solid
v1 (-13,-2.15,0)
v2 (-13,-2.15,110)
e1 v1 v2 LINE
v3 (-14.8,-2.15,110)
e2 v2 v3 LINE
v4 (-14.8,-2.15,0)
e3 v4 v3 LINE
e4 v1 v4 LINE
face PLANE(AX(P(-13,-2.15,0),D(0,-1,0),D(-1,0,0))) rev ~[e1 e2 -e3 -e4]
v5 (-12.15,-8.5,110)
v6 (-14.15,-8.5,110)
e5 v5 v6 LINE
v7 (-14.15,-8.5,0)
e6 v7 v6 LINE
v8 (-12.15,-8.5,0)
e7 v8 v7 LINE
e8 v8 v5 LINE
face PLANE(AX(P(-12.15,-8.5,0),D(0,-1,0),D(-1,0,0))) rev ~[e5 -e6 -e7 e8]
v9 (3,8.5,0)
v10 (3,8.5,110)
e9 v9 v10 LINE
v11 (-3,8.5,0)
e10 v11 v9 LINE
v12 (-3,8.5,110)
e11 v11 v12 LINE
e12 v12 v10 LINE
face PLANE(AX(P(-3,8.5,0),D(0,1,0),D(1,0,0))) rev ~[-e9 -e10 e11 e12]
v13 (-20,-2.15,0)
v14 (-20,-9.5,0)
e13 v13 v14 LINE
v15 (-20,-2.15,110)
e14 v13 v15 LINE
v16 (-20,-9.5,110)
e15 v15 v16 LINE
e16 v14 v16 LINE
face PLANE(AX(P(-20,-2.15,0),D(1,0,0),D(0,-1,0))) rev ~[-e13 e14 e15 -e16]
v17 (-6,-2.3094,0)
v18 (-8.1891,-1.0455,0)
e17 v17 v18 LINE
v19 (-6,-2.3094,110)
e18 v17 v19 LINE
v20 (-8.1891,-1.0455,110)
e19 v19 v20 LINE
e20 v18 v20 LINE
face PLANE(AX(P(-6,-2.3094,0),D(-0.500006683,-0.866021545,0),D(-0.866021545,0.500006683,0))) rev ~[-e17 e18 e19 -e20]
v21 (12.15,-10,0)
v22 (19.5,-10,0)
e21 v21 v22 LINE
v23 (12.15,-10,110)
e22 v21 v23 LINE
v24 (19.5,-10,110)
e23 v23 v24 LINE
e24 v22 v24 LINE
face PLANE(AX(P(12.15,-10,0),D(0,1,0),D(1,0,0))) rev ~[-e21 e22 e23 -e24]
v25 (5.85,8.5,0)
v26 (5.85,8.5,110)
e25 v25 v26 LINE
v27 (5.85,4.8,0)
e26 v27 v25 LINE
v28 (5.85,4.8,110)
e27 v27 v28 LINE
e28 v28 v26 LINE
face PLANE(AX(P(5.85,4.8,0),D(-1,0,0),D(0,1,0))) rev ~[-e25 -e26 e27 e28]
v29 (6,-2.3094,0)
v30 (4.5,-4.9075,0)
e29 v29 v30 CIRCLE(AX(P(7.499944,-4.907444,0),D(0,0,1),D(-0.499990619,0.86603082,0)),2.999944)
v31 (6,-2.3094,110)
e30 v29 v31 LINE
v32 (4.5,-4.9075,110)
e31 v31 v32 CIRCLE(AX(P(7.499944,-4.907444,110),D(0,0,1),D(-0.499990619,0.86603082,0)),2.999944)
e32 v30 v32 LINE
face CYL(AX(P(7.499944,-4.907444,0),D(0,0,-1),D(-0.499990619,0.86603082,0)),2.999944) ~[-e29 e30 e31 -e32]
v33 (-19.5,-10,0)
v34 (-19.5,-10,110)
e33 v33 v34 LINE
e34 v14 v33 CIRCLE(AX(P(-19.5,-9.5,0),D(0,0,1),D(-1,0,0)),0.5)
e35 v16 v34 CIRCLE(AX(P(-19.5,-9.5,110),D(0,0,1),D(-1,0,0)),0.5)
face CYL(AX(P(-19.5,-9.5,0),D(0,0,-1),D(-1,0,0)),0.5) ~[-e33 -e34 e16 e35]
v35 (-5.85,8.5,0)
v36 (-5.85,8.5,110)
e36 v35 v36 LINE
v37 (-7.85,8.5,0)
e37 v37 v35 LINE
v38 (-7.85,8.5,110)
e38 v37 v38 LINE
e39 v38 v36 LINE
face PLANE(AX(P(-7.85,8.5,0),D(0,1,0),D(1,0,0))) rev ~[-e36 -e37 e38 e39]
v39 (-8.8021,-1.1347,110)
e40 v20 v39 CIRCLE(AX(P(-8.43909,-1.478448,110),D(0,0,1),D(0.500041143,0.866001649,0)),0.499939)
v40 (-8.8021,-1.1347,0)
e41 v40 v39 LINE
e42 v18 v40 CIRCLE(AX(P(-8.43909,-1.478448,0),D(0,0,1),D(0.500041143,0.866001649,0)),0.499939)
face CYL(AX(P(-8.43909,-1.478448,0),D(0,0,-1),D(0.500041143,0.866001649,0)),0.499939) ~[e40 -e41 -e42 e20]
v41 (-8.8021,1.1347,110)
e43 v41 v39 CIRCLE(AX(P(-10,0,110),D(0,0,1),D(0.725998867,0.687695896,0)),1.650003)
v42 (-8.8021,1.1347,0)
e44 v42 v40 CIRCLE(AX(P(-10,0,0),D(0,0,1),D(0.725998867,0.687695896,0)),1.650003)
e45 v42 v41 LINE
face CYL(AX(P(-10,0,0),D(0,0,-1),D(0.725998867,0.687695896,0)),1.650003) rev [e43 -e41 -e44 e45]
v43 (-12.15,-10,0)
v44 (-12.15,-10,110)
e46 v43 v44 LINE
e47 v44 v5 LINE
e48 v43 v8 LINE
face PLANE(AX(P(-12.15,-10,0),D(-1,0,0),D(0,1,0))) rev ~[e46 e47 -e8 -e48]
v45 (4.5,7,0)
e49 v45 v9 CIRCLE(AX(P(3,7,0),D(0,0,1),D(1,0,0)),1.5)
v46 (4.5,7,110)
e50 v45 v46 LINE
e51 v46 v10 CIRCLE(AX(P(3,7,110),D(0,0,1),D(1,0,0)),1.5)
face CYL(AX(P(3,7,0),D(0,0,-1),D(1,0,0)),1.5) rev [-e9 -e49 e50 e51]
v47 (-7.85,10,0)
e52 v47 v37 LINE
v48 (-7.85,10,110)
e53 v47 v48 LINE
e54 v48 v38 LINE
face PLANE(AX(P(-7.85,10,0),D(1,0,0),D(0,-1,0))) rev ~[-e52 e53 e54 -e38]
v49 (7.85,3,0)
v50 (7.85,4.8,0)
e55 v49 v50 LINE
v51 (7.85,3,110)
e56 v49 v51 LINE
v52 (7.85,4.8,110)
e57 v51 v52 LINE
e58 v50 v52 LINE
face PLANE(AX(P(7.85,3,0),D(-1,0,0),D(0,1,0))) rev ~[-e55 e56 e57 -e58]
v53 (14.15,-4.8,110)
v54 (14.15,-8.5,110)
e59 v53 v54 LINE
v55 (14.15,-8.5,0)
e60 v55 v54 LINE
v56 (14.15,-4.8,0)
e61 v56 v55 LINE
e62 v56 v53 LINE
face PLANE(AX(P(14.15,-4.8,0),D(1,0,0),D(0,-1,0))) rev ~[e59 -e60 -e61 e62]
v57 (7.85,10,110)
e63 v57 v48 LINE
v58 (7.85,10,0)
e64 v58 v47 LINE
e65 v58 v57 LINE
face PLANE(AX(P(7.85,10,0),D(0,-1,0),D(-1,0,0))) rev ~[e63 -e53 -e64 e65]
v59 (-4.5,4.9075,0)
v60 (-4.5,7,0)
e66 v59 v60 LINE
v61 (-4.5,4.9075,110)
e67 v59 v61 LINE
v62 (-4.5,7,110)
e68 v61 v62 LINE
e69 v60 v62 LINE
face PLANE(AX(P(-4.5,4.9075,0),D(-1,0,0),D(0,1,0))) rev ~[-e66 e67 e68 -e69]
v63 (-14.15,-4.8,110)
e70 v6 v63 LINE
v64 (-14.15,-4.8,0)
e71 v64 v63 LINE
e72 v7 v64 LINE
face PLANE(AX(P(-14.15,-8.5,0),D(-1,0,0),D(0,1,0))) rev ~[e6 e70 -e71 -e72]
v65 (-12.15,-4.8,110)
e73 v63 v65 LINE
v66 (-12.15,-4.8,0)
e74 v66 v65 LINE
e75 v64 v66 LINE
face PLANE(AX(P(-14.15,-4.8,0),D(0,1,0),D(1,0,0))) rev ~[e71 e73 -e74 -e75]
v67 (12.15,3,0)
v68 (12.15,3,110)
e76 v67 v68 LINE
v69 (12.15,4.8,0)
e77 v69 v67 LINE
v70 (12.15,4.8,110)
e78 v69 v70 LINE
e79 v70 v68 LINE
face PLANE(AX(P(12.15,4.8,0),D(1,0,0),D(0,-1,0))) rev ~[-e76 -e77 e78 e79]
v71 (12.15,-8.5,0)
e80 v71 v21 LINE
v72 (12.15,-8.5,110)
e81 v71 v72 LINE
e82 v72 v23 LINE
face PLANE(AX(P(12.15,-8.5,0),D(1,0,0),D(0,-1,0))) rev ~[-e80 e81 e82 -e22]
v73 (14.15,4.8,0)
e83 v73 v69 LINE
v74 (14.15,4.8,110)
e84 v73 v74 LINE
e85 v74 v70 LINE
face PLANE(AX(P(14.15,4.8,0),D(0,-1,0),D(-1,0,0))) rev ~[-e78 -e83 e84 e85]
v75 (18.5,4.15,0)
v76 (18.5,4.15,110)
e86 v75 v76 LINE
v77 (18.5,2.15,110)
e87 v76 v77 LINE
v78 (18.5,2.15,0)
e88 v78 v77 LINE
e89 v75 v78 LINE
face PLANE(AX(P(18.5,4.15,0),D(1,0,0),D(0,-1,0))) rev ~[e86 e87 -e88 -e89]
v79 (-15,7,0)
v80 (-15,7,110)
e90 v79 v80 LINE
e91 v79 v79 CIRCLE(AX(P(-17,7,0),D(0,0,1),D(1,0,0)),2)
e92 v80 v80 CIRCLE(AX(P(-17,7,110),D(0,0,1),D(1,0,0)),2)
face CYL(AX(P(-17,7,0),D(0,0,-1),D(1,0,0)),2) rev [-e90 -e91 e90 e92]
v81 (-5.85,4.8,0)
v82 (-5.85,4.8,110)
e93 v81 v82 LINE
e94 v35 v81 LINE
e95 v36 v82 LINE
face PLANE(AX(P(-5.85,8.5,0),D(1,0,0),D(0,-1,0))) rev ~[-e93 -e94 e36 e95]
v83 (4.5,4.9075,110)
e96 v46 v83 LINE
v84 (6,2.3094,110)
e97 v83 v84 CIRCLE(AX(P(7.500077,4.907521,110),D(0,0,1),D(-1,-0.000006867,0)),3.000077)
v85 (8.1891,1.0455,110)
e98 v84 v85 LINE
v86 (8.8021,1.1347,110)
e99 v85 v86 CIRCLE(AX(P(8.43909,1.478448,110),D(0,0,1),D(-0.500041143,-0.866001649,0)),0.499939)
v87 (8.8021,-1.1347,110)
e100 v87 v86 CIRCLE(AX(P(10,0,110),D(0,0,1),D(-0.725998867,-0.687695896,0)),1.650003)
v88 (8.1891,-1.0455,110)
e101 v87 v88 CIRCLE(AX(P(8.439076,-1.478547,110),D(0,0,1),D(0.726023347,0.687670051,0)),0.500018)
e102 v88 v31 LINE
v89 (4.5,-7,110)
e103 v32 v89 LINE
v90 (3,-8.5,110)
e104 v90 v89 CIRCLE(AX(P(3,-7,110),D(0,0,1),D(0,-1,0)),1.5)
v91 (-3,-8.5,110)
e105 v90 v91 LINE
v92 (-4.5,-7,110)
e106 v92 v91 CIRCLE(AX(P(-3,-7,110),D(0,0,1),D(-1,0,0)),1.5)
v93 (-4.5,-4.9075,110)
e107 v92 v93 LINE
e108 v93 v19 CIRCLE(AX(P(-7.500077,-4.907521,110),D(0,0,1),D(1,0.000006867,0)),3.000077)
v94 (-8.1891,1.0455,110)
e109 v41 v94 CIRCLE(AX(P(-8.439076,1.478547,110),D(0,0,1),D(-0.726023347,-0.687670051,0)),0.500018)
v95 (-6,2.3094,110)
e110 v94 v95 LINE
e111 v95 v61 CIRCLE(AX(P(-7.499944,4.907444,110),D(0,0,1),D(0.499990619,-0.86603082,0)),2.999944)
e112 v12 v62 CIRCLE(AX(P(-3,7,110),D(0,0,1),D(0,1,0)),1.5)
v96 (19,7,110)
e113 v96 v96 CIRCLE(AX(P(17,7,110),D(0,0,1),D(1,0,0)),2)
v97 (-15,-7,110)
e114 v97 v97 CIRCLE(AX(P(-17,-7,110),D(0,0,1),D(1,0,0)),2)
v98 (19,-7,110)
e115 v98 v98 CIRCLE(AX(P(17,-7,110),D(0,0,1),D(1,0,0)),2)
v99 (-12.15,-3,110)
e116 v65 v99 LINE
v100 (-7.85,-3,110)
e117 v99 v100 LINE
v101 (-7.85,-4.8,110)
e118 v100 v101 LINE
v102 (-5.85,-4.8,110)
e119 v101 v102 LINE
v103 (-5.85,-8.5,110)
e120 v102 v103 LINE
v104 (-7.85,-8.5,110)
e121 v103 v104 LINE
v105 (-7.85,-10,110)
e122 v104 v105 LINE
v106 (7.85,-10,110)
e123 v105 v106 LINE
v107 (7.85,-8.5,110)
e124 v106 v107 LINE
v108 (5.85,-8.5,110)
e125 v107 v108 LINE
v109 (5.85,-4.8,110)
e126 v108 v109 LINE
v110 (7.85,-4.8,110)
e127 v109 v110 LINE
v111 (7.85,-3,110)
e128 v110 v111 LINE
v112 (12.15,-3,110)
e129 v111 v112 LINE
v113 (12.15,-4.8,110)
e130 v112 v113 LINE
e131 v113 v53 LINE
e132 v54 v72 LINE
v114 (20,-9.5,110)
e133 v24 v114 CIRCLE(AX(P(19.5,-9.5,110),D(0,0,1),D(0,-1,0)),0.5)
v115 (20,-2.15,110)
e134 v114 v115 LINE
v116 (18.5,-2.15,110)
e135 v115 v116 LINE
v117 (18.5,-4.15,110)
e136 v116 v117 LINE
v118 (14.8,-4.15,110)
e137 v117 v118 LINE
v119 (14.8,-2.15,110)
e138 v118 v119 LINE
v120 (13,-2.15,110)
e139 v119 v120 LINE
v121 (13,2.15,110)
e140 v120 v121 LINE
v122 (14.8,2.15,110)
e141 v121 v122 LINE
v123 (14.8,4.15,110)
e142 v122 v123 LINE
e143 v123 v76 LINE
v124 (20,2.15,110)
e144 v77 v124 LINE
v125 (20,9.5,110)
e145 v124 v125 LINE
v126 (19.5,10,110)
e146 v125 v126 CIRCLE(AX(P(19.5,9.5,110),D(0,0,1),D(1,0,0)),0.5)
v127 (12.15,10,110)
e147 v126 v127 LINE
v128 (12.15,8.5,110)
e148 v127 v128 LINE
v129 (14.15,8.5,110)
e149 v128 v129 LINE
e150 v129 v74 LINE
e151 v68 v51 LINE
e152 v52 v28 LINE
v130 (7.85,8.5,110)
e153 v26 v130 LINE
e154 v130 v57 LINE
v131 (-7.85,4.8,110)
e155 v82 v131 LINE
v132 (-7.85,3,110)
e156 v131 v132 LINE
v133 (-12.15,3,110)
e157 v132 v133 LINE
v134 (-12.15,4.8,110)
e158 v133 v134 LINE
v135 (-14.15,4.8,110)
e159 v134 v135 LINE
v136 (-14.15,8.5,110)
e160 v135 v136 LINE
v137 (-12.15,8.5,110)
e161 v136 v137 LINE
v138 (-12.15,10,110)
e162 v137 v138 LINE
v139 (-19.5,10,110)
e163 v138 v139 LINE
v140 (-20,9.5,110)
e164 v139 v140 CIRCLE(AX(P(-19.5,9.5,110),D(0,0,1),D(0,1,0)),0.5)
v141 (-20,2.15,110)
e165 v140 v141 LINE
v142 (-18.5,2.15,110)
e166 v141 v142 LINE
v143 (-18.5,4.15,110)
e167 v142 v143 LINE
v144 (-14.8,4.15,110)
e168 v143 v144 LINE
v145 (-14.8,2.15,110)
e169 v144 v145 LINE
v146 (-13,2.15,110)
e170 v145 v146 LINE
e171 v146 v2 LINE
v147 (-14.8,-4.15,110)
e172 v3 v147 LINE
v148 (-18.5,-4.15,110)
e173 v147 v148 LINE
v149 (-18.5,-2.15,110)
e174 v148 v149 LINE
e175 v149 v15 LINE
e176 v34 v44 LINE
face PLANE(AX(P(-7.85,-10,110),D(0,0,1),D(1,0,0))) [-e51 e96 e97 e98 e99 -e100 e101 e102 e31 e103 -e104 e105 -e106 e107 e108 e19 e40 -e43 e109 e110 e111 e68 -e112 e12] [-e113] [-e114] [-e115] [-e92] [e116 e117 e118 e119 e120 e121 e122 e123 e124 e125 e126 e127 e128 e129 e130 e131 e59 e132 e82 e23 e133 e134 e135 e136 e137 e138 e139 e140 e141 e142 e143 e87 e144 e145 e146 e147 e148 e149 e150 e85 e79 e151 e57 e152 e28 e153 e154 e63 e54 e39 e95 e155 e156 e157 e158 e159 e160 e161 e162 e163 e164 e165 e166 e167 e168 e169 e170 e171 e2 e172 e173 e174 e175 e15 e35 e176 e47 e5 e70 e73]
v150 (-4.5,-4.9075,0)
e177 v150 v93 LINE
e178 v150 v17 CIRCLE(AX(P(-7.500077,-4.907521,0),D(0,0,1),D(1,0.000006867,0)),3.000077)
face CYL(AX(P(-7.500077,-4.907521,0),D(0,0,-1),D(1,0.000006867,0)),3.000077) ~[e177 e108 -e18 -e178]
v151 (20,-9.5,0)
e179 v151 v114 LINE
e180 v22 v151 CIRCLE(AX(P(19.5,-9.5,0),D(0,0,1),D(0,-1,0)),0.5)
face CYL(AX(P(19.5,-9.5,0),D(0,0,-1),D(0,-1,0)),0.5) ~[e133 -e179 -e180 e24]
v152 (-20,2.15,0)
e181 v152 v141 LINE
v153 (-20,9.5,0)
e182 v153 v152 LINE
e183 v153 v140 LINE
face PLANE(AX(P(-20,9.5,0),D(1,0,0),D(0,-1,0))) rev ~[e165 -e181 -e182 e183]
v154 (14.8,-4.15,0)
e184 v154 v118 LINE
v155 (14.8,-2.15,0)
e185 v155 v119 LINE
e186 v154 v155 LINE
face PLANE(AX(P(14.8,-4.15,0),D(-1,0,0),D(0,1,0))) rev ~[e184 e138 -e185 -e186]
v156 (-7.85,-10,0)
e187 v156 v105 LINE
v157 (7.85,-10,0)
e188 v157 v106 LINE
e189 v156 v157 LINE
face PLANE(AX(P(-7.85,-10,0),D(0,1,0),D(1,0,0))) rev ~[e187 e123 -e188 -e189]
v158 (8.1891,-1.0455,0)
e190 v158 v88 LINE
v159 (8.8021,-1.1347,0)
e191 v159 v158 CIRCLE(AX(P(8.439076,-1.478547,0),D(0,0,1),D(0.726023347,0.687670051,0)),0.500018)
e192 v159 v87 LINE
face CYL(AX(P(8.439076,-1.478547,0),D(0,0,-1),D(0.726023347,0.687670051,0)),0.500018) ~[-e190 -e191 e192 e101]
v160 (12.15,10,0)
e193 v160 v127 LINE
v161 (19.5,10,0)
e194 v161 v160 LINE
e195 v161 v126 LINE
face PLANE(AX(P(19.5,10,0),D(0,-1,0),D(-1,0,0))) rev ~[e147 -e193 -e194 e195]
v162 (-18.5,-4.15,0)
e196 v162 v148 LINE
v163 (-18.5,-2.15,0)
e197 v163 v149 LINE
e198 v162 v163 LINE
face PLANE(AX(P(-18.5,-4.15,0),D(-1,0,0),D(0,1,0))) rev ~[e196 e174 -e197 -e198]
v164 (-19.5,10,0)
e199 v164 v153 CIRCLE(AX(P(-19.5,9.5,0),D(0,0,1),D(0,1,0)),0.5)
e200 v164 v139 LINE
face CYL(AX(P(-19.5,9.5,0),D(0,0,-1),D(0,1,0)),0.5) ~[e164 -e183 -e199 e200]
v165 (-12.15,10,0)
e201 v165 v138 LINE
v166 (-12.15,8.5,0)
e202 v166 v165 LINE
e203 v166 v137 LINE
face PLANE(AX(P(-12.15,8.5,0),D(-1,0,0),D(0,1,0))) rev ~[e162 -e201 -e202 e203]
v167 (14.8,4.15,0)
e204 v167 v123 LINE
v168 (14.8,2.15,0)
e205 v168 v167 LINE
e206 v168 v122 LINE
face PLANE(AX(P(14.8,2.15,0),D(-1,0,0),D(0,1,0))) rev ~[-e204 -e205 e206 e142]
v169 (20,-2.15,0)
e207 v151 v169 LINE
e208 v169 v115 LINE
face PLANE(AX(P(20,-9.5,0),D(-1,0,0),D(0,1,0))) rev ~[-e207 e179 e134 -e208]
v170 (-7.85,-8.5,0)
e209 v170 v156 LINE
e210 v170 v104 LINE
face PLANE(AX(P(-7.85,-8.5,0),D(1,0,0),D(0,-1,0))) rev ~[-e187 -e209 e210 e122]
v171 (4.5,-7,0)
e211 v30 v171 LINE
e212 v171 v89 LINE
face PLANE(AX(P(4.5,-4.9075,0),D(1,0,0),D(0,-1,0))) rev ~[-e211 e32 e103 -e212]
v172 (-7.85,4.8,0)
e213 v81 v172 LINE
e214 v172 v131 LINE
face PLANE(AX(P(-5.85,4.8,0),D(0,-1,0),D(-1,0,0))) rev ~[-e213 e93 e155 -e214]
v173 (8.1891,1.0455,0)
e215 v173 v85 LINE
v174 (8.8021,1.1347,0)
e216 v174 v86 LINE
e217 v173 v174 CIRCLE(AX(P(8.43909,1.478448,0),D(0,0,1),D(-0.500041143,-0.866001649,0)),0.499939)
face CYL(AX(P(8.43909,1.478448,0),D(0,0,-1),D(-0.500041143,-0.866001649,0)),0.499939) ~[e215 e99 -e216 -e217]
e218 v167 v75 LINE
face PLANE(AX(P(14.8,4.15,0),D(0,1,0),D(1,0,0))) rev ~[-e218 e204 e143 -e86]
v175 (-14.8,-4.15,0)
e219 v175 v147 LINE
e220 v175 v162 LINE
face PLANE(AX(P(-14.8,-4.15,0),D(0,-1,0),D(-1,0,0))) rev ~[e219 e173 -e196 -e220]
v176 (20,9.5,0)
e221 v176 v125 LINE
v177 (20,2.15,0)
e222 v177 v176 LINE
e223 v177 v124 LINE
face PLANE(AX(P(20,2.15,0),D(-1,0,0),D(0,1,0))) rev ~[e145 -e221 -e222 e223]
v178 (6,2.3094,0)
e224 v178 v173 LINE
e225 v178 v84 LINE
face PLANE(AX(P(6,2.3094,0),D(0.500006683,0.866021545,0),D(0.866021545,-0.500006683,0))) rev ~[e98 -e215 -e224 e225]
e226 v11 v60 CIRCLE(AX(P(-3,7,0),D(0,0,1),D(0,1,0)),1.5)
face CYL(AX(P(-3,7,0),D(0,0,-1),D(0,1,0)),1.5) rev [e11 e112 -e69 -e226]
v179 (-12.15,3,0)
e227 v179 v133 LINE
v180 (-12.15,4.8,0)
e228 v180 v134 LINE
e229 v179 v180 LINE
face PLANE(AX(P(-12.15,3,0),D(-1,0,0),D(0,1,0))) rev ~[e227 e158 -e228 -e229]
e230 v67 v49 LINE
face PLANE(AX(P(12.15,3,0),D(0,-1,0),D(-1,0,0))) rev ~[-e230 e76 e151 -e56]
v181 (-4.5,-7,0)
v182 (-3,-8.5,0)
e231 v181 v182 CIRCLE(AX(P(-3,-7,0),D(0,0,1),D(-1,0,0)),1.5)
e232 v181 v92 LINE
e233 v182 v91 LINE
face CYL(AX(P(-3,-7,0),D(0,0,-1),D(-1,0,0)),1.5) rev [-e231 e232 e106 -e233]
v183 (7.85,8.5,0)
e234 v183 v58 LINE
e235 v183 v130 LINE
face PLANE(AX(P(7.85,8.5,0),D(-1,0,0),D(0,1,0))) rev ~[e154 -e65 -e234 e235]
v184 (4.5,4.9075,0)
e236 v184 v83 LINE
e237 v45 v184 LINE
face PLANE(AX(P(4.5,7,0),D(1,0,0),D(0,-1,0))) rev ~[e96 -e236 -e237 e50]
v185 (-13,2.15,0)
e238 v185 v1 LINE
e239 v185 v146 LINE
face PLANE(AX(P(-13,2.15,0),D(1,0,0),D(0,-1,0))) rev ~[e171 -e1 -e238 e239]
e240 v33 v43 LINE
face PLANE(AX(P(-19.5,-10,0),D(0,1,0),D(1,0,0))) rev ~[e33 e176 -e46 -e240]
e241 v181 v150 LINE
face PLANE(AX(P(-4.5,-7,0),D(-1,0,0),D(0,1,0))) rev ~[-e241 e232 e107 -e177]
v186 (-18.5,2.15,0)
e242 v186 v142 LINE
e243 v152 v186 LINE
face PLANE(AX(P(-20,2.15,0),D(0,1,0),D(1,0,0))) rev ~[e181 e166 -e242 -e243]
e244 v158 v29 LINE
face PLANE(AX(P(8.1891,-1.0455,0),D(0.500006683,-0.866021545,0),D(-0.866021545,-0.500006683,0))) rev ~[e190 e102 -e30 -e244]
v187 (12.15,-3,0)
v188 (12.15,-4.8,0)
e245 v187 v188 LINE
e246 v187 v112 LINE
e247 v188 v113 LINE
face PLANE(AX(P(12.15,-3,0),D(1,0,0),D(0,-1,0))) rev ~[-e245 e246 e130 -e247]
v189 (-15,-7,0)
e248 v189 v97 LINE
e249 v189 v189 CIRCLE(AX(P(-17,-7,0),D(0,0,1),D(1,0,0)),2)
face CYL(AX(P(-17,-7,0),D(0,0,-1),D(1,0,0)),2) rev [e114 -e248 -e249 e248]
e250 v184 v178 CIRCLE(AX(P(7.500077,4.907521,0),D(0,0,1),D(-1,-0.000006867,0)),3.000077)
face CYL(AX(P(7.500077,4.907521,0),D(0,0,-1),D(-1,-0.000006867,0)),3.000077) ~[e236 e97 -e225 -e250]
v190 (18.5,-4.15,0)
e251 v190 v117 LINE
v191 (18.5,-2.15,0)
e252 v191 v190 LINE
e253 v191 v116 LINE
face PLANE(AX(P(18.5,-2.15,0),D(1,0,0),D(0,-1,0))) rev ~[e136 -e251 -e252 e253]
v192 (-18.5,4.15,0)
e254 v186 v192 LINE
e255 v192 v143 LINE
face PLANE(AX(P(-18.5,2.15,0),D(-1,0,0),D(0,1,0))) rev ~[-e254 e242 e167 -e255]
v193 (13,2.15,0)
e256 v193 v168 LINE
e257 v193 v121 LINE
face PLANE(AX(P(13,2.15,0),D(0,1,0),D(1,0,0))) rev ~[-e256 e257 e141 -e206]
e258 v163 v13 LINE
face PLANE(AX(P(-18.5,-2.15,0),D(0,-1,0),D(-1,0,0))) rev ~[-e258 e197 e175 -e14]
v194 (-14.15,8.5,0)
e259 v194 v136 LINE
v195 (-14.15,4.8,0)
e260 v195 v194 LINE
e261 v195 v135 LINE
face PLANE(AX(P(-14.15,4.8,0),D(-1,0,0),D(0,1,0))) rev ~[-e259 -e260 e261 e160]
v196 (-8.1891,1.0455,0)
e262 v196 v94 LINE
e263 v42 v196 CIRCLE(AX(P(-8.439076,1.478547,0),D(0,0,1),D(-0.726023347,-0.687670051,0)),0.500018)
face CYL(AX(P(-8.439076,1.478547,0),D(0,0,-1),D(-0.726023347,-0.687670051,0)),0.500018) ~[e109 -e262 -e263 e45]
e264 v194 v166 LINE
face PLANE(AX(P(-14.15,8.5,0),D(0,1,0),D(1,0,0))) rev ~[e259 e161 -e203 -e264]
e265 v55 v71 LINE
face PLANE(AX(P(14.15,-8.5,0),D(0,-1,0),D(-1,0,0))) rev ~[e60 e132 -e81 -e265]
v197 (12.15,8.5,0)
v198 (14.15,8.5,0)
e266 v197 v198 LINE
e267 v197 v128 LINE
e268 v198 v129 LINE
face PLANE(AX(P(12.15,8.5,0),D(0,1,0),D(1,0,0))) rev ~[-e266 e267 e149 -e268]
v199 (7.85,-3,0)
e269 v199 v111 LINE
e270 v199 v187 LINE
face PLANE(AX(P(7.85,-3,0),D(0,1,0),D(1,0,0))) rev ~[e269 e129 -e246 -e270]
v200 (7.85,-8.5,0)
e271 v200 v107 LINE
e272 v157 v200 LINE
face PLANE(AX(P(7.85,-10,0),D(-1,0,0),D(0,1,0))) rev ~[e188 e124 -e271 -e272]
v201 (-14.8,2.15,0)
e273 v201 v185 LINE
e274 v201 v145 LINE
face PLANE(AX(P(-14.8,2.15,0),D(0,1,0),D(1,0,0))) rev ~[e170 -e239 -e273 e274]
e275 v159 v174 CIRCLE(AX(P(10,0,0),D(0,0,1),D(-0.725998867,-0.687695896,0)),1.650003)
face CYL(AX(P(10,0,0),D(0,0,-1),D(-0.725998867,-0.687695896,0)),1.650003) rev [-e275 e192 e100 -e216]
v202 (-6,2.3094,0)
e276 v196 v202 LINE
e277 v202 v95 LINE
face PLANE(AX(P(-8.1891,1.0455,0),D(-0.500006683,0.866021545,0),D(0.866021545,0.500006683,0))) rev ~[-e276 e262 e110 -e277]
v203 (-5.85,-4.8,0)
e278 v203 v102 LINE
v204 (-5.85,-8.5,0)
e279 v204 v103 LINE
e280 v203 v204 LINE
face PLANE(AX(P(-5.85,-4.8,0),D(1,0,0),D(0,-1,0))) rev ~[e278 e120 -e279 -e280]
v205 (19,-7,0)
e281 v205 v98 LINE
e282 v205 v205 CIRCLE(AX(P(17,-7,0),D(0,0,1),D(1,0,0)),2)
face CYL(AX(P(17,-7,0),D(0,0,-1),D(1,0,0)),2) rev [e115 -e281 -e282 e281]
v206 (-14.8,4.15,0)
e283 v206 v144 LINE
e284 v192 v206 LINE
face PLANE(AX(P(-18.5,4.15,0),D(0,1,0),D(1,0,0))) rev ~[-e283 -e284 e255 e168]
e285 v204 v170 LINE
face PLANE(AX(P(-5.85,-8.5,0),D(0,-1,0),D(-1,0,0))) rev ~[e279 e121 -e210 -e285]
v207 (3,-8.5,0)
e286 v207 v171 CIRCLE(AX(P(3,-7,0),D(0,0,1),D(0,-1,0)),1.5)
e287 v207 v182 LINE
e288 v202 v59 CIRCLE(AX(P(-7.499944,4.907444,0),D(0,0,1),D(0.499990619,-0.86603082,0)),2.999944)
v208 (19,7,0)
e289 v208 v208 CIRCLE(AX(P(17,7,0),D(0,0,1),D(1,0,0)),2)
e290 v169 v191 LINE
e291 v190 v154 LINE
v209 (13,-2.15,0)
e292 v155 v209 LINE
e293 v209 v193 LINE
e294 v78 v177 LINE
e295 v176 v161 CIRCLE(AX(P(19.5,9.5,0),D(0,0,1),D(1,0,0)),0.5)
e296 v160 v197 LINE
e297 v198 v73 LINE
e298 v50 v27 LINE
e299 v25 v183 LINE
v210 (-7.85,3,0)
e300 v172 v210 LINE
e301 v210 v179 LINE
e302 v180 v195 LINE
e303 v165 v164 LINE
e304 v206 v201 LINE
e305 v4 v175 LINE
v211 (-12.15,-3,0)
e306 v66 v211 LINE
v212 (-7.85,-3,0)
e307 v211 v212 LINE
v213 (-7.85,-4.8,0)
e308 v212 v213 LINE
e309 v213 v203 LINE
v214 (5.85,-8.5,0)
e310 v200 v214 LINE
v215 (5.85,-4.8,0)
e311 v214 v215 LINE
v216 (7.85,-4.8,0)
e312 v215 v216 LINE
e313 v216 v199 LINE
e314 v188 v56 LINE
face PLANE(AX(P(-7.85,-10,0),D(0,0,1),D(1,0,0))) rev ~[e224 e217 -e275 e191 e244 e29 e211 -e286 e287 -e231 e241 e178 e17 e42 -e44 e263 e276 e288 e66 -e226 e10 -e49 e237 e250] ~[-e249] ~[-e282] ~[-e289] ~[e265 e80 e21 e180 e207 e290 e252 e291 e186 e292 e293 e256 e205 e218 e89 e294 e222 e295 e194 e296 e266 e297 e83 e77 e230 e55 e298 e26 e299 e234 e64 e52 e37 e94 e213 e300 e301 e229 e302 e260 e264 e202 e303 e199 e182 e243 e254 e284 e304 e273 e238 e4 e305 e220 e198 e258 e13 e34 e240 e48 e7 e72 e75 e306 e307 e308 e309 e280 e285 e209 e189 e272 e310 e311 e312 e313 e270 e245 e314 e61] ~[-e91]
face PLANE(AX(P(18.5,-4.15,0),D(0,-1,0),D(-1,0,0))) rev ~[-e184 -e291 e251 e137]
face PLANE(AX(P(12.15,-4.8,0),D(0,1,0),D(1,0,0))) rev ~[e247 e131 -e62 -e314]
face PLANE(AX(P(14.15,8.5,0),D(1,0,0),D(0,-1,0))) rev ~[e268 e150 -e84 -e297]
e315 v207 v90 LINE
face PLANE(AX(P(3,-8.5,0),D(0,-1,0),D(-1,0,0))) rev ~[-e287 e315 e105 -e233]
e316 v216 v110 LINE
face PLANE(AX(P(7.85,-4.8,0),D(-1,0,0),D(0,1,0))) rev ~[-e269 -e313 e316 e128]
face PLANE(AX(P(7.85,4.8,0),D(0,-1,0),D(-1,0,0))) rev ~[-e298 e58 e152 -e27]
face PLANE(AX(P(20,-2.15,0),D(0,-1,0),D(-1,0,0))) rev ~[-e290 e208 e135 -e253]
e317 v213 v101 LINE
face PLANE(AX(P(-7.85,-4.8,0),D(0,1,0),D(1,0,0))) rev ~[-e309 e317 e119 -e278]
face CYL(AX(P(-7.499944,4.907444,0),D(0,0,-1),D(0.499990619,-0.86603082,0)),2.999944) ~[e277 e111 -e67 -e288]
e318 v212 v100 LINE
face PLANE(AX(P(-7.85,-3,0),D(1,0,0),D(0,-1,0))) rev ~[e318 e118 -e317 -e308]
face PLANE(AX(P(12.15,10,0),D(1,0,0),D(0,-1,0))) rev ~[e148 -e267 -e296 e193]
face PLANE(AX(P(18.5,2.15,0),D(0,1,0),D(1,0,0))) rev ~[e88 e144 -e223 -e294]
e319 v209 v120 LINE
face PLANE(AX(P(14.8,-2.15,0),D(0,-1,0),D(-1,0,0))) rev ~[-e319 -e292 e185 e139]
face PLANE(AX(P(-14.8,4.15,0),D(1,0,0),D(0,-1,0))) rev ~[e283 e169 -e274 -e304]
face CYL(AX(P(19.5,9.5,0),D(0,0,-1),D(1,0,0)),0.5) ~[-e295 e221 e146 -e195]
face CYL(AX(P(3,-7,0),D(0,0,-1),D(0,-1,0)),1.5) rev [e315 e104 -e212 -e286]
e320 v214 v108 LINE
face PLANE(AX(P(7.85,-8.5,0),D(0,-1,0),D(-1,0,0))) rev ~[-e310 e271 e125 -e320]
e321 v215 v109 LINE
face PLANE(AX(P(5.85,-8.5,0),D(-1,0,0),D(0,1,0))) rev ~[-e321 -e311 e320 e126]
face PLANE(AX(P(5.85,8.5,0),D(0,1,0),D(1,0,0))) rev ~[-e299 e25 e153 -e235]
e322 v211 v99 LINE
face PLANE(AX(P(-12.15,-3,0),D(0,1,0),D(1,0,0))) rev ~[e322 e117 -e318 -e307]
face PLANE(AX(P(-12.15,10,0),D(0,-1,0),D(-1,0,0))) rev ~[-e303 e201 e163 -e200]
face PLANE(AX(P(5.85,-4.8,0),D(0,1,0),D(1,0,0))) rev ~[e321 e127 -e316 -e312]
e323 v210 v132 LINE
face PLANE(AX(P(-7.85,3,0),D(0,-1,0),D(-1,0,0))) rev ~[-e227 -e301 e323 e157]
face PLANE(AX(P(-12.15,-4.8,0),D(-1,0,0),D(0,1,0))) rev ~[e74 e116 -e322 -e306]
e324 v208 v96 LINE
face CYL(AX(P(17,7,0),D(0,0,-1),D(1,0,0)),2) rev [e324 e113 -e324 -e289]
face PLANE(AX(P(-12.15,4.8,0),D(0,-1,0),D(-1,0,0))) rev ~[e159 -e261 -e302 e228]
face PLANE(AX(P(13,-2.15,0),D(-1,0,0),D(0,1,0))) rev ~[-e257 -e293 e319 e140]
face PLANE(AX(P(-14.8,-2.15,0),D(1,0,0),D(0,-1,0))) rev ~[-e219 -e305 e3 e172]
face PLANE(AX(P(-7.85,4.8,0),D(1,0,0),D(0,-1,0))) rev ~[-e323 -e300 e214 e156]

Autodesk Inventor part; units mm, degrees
ref_plane "YZ Plane" through (0, 0, 0) normal (1, 0, 0) x (0, 1, 0)
ref_plane "XZ Plane" through (0, 0, 0) normal (0, 1, 0) x (-1, 0, 0)
ref_plane "XY Plane" through (0, 0, 0) normal (0, 0, 1) x (1, 0, 0)
sketch "スケッチ1" plane through (-7.85, -10, 0) normal (0, 0, 1) x (1, 0, 0)
  line L0 (-6.3, 14.8) -> (-6.3, 18.5) projected
  line L1 (0, 13) -> (-4.3, 13) projected
  line L2 (-4.3, 13) -> (-4.3, 14.8) projected
  line L3 (-4.3, 14.8) -> (-6.3, 14.8) projected
  line L4 (-6.3, 14.8) -> (-6.3, 18.5) projected
  line L5 (-6.3, 18.5) -> (-4.3, 18.5) projected
  line L6 (-4.3, 18.5) -> (-4.3, 20) projected
  line L7 (-4.3, 20) -> (-11.65, 20) projected
  arc A0 (-11.65, 20) -> (-12.15, 19.5) centre (-11.65, 19.5) ccw projected
  line L8 (-12.15, 19.5) -> (-12.15, 12.15) projected
  line L9 (-12.15, 12.15) -> (-10.65, 12.15) projected
  line L10 (-10.65, 12.15) -> (-10.65, 14.15) projected
  line L11 (-10.65, 14.15) -> (-6.95, 14.15) projected
  line L12 (-6.95, 14.15) -> (-6.95, 12.15) projected
  line L13 (-6.95, 12.15) -> (-5.15, 12.15) projected
  line L14 (-5.15, 12.15) -> (-5.15, 7.85) projected
  line L15 (-5.15, 7.85) -> (-6.95, 7.85) projected
  line L16 (-6.95, 7.85) -> (-6.95, 5.85) projected
  line L17 (-6.95, 5.85) -> (-10.65, 5.85) projected
  line L18 (-10.65, 5.85) -> (-10.65, 7.85) projected
  line L19 (-10.65, 7.85) -> (-12.15, 7.85) projected
  line L20 (-12.15, 7.85) -> (-12.15, 0.5) projected
  arc A1 (-12.15, 0.5) -> (-11.65, 0) centre (-11.65, 0.5) ccw projected
  line L21 (-11.65, 0) -> (-4.3, 0) projected
  line L22 (-4.3, 0) -> (-4.3, 1.5) projected
  line L23 (-4.3, 1.5) -> (-6.3, 1.5) projected
  line L24 (-6.3, 1.5) -> (-6.3, 5.2) projected
  line L25 (-6.3, 5.2) -> (-4.3, 5.2) projected
  line L26 (-4.3, 5.2) -> (-4.3, 7) projected
  line L27 (-4.3, 7) -> (0, 7) projected
  line L28 (0, 7) -> (0, 5.2) projected
  line L29 (0, 5.2) -> (2, 5.2) projected
  line L30 (2, 5.2) -> (2, 1.5) projected
  line L31 (2, 1.5) -> (0, 1.5) projected
  line L32 (0, 1.5) -> (0, 0) projected
  line L33 (0, 0) -> (15.7, 0) projected
  line L34 (15.7, 0) -> (15.7, 1.5) projected
  line L35 (15.7, 1.5) -> (13.7, 1.5) projected
  line L36 (13.7, 1.5) -> (13.7, 5.2) projected
  line L37 (13.7, 5.2) -> (15.7, 5.2) projected
  line L38 (15.7, 5.2) -> (15.7, 7) projected
  line L39 (15.7, 7) -> (20, 7) projected
  line L40 (20, 7) -> (20, 5.2) projected
  line L41 (20, 5.2) -> (22, 5.2) projected
  line L42 (22, 5.2) -> (22, 1.5) projected
  line L43 (22, 1.5) -> (20, 1.5) projected
  line L44 (20, 1.5) -> (20, 0) projected
  line L45 (20, 0) -> (27.35, 0) projected
  arc A2 (27.35, 0) -> (27.85, 0.5) centre (27.35, 0.5) ccw projected
  line L46 (27.85, 0.5) -> (27.85, 7.85) projected
  line L47 (27.85, 7.85) -> (26.35, 7.85) projected
  line L48 (26.35, 7.85) -> (26.35, 5.85) projected
  line L49 (26.35, 5.85) -> (22.65, 5.85) projected
  line L50 (22.65, 5.85) -> (22.65, 7.85) projected
  line L51 (22.65, 7.85) -> (20.85, 7.85) projected
  line L52 (20.85, 7.85) -> (20.85, 12.15) projected
  line L53 (20.85, 12.15) -> (22.65, 12.15) projected
  line L54 (22.65, 12.15) -> (22.65, 14.15) projected
  line L55 (22.65, 14.15) -> (26.35, 14.15) projected
  line L56 (26.35, 14.15) -> (26.35, 12.15) projected
  line L57 (26.35, 12.15) -> (27.85, 12.15) projected
  line L58 (27.85, 12.15) -> (27.85, 19.5) projected
  arc A3 (27.85, 19.5) -> (27.35, 20) centre (27.35, 19.5) ccw projected
  line L59 (27.35, 20) -> (20, 20) projected
  line L60 (20, 20) -> (20, 18.5) projected
  line L61 (20, 18.5) -> (22, 18.5) projected
  line L62 (22, 18.5) -> (22, 14.8) projected
  line L63 (22, 14.8) -> (20, 14.8) projected
  line L64 (20, 14.8) -> (20, 13) projected
  line L65 (20, 13) -> (15.7, 13) projected
  line L66 (15.7, 13) -> (15.7, 14.8) projected
  line L67 (15.7, 14.8) -> (13.7, 14.8) projected
  line L68 (13.7, 14.8) -> (13.7, 18.5) projected
  line L69 (13.7, 18.5) -> (15.7, 18.5) projected
  line L70 (15.7, 18.5) -> (15.7, 20) projected
  line L71 (15.7, 20) -> (0, 20) projected
  line L72 (0, 20) -> (0, 18.5) projected
  line L73 (0, 18.5) -> (2, 18.5) projected
  line L74 (2, 18.5) -> (2, 14.8) projected
  line L75 (2, 14.8) -> (0, 14.8) projected
  line L76 (0, 14.8) -> (0, 13) projected
  line L77 (12.35, 17) -> (12.35, 14.9075) projected
  arc A4 (12.35, 14.9075) -> (13.85, 12.3094) centre (15.35, 14.9075) ccw projected
  line L78 (13.85, 12.3094) -> (16.0391, 11.0455) projected
  arc A5 (16.0391, 11.0455) -> (16.6521, 11.1347) centre (16.2891, 11.4785) ccw projected
  arc A6 (16.6521, 8.8653) -> (16.6521, 11.1347) centre (17.85, 10) ccw projected
  arc A7 (16.6521, 8.8653) -> (16.0391, 8.9545) centre (16.2891, 8.5215) ccw projected
  line L79 (16.0391, 8.9545) -> (13.85, 7.6906) projected
  arc A8 (13.85, 7.6906) -> (12.35, 5.0925) centre (15.35, 5.0925) ccw projected
  line L80 (12.35, 5.0925) -> (12.35, 3) projected
  arc A9 (10.85, 1.5) -> (12.35, 3) centre (10.85, 3) ccw projected
  line L81 (10.85, 1.5) -> (4.85, 1.5) projected
  arc A10 (3.35, 3) -> (4.85, 1.5) centre (4.85, 3) ccw projected
  line L82 (3.35, 3) -> (3.35, 5.0925) projected
  arc A11 (3.35, 5.0925) -> (1.85, 7.6906) centre (0.35, 5.0925) ccw projected
  line L83 (1.85, 7.6906) -> (-0.3391, 8.9545) projected
  arc A12 (-0.3391, 8.9545) -> (-0.9521, 8.8653) centre (-0.5891, 8.5215) ccw projected
  arc A13 (-0.9521, 11.1347) -> (-0.9521, 8.8653) centre (-2.15, 10) ccw projected
  arc A14 (-0.9521, 11.1347) -> (-0.3391, 11.0455) centre (-0.5891, 11.4785) ccw projected
  line L84 (-0.3391, 11.0455) -> (1.85, 12.3094) projected
  arc A15 (1.85, 12.3094) -> (3.35, 14.9075) centre (0.35, 14.9075) ccw projected
  line L85 (3.35, 14.9075) -> (3.35, 17) projected
  arc A16 (4.85, 18.5) -> (3.35, 17) centre (4.85, 17) ccw projected
  line L86 (4.85, 18.5) -> (10.85, 18.5) projected
  arc A17 (12.35, 17) -> (10.85, 18.5) centre (10.85, 17) ccw projected
  circle A18 centre (24.85, 3) radius 2 projected
  circle A19 centre (-9.15, 3) radius 2 projected
  circle A20 centre (-9.15, 17) radius 2 projected
  circle A21 centre (24.85, 17) radius 2 projected
  point P0 (7.85, 10)
extrude "押し出し1" add sketch "スケッチ1" along normal blind 110
equation "\"d0\" = L"
equation "\"L\" = 110"
properties part number "AFS-2040-4-110" material "アルミニウム 6061"
